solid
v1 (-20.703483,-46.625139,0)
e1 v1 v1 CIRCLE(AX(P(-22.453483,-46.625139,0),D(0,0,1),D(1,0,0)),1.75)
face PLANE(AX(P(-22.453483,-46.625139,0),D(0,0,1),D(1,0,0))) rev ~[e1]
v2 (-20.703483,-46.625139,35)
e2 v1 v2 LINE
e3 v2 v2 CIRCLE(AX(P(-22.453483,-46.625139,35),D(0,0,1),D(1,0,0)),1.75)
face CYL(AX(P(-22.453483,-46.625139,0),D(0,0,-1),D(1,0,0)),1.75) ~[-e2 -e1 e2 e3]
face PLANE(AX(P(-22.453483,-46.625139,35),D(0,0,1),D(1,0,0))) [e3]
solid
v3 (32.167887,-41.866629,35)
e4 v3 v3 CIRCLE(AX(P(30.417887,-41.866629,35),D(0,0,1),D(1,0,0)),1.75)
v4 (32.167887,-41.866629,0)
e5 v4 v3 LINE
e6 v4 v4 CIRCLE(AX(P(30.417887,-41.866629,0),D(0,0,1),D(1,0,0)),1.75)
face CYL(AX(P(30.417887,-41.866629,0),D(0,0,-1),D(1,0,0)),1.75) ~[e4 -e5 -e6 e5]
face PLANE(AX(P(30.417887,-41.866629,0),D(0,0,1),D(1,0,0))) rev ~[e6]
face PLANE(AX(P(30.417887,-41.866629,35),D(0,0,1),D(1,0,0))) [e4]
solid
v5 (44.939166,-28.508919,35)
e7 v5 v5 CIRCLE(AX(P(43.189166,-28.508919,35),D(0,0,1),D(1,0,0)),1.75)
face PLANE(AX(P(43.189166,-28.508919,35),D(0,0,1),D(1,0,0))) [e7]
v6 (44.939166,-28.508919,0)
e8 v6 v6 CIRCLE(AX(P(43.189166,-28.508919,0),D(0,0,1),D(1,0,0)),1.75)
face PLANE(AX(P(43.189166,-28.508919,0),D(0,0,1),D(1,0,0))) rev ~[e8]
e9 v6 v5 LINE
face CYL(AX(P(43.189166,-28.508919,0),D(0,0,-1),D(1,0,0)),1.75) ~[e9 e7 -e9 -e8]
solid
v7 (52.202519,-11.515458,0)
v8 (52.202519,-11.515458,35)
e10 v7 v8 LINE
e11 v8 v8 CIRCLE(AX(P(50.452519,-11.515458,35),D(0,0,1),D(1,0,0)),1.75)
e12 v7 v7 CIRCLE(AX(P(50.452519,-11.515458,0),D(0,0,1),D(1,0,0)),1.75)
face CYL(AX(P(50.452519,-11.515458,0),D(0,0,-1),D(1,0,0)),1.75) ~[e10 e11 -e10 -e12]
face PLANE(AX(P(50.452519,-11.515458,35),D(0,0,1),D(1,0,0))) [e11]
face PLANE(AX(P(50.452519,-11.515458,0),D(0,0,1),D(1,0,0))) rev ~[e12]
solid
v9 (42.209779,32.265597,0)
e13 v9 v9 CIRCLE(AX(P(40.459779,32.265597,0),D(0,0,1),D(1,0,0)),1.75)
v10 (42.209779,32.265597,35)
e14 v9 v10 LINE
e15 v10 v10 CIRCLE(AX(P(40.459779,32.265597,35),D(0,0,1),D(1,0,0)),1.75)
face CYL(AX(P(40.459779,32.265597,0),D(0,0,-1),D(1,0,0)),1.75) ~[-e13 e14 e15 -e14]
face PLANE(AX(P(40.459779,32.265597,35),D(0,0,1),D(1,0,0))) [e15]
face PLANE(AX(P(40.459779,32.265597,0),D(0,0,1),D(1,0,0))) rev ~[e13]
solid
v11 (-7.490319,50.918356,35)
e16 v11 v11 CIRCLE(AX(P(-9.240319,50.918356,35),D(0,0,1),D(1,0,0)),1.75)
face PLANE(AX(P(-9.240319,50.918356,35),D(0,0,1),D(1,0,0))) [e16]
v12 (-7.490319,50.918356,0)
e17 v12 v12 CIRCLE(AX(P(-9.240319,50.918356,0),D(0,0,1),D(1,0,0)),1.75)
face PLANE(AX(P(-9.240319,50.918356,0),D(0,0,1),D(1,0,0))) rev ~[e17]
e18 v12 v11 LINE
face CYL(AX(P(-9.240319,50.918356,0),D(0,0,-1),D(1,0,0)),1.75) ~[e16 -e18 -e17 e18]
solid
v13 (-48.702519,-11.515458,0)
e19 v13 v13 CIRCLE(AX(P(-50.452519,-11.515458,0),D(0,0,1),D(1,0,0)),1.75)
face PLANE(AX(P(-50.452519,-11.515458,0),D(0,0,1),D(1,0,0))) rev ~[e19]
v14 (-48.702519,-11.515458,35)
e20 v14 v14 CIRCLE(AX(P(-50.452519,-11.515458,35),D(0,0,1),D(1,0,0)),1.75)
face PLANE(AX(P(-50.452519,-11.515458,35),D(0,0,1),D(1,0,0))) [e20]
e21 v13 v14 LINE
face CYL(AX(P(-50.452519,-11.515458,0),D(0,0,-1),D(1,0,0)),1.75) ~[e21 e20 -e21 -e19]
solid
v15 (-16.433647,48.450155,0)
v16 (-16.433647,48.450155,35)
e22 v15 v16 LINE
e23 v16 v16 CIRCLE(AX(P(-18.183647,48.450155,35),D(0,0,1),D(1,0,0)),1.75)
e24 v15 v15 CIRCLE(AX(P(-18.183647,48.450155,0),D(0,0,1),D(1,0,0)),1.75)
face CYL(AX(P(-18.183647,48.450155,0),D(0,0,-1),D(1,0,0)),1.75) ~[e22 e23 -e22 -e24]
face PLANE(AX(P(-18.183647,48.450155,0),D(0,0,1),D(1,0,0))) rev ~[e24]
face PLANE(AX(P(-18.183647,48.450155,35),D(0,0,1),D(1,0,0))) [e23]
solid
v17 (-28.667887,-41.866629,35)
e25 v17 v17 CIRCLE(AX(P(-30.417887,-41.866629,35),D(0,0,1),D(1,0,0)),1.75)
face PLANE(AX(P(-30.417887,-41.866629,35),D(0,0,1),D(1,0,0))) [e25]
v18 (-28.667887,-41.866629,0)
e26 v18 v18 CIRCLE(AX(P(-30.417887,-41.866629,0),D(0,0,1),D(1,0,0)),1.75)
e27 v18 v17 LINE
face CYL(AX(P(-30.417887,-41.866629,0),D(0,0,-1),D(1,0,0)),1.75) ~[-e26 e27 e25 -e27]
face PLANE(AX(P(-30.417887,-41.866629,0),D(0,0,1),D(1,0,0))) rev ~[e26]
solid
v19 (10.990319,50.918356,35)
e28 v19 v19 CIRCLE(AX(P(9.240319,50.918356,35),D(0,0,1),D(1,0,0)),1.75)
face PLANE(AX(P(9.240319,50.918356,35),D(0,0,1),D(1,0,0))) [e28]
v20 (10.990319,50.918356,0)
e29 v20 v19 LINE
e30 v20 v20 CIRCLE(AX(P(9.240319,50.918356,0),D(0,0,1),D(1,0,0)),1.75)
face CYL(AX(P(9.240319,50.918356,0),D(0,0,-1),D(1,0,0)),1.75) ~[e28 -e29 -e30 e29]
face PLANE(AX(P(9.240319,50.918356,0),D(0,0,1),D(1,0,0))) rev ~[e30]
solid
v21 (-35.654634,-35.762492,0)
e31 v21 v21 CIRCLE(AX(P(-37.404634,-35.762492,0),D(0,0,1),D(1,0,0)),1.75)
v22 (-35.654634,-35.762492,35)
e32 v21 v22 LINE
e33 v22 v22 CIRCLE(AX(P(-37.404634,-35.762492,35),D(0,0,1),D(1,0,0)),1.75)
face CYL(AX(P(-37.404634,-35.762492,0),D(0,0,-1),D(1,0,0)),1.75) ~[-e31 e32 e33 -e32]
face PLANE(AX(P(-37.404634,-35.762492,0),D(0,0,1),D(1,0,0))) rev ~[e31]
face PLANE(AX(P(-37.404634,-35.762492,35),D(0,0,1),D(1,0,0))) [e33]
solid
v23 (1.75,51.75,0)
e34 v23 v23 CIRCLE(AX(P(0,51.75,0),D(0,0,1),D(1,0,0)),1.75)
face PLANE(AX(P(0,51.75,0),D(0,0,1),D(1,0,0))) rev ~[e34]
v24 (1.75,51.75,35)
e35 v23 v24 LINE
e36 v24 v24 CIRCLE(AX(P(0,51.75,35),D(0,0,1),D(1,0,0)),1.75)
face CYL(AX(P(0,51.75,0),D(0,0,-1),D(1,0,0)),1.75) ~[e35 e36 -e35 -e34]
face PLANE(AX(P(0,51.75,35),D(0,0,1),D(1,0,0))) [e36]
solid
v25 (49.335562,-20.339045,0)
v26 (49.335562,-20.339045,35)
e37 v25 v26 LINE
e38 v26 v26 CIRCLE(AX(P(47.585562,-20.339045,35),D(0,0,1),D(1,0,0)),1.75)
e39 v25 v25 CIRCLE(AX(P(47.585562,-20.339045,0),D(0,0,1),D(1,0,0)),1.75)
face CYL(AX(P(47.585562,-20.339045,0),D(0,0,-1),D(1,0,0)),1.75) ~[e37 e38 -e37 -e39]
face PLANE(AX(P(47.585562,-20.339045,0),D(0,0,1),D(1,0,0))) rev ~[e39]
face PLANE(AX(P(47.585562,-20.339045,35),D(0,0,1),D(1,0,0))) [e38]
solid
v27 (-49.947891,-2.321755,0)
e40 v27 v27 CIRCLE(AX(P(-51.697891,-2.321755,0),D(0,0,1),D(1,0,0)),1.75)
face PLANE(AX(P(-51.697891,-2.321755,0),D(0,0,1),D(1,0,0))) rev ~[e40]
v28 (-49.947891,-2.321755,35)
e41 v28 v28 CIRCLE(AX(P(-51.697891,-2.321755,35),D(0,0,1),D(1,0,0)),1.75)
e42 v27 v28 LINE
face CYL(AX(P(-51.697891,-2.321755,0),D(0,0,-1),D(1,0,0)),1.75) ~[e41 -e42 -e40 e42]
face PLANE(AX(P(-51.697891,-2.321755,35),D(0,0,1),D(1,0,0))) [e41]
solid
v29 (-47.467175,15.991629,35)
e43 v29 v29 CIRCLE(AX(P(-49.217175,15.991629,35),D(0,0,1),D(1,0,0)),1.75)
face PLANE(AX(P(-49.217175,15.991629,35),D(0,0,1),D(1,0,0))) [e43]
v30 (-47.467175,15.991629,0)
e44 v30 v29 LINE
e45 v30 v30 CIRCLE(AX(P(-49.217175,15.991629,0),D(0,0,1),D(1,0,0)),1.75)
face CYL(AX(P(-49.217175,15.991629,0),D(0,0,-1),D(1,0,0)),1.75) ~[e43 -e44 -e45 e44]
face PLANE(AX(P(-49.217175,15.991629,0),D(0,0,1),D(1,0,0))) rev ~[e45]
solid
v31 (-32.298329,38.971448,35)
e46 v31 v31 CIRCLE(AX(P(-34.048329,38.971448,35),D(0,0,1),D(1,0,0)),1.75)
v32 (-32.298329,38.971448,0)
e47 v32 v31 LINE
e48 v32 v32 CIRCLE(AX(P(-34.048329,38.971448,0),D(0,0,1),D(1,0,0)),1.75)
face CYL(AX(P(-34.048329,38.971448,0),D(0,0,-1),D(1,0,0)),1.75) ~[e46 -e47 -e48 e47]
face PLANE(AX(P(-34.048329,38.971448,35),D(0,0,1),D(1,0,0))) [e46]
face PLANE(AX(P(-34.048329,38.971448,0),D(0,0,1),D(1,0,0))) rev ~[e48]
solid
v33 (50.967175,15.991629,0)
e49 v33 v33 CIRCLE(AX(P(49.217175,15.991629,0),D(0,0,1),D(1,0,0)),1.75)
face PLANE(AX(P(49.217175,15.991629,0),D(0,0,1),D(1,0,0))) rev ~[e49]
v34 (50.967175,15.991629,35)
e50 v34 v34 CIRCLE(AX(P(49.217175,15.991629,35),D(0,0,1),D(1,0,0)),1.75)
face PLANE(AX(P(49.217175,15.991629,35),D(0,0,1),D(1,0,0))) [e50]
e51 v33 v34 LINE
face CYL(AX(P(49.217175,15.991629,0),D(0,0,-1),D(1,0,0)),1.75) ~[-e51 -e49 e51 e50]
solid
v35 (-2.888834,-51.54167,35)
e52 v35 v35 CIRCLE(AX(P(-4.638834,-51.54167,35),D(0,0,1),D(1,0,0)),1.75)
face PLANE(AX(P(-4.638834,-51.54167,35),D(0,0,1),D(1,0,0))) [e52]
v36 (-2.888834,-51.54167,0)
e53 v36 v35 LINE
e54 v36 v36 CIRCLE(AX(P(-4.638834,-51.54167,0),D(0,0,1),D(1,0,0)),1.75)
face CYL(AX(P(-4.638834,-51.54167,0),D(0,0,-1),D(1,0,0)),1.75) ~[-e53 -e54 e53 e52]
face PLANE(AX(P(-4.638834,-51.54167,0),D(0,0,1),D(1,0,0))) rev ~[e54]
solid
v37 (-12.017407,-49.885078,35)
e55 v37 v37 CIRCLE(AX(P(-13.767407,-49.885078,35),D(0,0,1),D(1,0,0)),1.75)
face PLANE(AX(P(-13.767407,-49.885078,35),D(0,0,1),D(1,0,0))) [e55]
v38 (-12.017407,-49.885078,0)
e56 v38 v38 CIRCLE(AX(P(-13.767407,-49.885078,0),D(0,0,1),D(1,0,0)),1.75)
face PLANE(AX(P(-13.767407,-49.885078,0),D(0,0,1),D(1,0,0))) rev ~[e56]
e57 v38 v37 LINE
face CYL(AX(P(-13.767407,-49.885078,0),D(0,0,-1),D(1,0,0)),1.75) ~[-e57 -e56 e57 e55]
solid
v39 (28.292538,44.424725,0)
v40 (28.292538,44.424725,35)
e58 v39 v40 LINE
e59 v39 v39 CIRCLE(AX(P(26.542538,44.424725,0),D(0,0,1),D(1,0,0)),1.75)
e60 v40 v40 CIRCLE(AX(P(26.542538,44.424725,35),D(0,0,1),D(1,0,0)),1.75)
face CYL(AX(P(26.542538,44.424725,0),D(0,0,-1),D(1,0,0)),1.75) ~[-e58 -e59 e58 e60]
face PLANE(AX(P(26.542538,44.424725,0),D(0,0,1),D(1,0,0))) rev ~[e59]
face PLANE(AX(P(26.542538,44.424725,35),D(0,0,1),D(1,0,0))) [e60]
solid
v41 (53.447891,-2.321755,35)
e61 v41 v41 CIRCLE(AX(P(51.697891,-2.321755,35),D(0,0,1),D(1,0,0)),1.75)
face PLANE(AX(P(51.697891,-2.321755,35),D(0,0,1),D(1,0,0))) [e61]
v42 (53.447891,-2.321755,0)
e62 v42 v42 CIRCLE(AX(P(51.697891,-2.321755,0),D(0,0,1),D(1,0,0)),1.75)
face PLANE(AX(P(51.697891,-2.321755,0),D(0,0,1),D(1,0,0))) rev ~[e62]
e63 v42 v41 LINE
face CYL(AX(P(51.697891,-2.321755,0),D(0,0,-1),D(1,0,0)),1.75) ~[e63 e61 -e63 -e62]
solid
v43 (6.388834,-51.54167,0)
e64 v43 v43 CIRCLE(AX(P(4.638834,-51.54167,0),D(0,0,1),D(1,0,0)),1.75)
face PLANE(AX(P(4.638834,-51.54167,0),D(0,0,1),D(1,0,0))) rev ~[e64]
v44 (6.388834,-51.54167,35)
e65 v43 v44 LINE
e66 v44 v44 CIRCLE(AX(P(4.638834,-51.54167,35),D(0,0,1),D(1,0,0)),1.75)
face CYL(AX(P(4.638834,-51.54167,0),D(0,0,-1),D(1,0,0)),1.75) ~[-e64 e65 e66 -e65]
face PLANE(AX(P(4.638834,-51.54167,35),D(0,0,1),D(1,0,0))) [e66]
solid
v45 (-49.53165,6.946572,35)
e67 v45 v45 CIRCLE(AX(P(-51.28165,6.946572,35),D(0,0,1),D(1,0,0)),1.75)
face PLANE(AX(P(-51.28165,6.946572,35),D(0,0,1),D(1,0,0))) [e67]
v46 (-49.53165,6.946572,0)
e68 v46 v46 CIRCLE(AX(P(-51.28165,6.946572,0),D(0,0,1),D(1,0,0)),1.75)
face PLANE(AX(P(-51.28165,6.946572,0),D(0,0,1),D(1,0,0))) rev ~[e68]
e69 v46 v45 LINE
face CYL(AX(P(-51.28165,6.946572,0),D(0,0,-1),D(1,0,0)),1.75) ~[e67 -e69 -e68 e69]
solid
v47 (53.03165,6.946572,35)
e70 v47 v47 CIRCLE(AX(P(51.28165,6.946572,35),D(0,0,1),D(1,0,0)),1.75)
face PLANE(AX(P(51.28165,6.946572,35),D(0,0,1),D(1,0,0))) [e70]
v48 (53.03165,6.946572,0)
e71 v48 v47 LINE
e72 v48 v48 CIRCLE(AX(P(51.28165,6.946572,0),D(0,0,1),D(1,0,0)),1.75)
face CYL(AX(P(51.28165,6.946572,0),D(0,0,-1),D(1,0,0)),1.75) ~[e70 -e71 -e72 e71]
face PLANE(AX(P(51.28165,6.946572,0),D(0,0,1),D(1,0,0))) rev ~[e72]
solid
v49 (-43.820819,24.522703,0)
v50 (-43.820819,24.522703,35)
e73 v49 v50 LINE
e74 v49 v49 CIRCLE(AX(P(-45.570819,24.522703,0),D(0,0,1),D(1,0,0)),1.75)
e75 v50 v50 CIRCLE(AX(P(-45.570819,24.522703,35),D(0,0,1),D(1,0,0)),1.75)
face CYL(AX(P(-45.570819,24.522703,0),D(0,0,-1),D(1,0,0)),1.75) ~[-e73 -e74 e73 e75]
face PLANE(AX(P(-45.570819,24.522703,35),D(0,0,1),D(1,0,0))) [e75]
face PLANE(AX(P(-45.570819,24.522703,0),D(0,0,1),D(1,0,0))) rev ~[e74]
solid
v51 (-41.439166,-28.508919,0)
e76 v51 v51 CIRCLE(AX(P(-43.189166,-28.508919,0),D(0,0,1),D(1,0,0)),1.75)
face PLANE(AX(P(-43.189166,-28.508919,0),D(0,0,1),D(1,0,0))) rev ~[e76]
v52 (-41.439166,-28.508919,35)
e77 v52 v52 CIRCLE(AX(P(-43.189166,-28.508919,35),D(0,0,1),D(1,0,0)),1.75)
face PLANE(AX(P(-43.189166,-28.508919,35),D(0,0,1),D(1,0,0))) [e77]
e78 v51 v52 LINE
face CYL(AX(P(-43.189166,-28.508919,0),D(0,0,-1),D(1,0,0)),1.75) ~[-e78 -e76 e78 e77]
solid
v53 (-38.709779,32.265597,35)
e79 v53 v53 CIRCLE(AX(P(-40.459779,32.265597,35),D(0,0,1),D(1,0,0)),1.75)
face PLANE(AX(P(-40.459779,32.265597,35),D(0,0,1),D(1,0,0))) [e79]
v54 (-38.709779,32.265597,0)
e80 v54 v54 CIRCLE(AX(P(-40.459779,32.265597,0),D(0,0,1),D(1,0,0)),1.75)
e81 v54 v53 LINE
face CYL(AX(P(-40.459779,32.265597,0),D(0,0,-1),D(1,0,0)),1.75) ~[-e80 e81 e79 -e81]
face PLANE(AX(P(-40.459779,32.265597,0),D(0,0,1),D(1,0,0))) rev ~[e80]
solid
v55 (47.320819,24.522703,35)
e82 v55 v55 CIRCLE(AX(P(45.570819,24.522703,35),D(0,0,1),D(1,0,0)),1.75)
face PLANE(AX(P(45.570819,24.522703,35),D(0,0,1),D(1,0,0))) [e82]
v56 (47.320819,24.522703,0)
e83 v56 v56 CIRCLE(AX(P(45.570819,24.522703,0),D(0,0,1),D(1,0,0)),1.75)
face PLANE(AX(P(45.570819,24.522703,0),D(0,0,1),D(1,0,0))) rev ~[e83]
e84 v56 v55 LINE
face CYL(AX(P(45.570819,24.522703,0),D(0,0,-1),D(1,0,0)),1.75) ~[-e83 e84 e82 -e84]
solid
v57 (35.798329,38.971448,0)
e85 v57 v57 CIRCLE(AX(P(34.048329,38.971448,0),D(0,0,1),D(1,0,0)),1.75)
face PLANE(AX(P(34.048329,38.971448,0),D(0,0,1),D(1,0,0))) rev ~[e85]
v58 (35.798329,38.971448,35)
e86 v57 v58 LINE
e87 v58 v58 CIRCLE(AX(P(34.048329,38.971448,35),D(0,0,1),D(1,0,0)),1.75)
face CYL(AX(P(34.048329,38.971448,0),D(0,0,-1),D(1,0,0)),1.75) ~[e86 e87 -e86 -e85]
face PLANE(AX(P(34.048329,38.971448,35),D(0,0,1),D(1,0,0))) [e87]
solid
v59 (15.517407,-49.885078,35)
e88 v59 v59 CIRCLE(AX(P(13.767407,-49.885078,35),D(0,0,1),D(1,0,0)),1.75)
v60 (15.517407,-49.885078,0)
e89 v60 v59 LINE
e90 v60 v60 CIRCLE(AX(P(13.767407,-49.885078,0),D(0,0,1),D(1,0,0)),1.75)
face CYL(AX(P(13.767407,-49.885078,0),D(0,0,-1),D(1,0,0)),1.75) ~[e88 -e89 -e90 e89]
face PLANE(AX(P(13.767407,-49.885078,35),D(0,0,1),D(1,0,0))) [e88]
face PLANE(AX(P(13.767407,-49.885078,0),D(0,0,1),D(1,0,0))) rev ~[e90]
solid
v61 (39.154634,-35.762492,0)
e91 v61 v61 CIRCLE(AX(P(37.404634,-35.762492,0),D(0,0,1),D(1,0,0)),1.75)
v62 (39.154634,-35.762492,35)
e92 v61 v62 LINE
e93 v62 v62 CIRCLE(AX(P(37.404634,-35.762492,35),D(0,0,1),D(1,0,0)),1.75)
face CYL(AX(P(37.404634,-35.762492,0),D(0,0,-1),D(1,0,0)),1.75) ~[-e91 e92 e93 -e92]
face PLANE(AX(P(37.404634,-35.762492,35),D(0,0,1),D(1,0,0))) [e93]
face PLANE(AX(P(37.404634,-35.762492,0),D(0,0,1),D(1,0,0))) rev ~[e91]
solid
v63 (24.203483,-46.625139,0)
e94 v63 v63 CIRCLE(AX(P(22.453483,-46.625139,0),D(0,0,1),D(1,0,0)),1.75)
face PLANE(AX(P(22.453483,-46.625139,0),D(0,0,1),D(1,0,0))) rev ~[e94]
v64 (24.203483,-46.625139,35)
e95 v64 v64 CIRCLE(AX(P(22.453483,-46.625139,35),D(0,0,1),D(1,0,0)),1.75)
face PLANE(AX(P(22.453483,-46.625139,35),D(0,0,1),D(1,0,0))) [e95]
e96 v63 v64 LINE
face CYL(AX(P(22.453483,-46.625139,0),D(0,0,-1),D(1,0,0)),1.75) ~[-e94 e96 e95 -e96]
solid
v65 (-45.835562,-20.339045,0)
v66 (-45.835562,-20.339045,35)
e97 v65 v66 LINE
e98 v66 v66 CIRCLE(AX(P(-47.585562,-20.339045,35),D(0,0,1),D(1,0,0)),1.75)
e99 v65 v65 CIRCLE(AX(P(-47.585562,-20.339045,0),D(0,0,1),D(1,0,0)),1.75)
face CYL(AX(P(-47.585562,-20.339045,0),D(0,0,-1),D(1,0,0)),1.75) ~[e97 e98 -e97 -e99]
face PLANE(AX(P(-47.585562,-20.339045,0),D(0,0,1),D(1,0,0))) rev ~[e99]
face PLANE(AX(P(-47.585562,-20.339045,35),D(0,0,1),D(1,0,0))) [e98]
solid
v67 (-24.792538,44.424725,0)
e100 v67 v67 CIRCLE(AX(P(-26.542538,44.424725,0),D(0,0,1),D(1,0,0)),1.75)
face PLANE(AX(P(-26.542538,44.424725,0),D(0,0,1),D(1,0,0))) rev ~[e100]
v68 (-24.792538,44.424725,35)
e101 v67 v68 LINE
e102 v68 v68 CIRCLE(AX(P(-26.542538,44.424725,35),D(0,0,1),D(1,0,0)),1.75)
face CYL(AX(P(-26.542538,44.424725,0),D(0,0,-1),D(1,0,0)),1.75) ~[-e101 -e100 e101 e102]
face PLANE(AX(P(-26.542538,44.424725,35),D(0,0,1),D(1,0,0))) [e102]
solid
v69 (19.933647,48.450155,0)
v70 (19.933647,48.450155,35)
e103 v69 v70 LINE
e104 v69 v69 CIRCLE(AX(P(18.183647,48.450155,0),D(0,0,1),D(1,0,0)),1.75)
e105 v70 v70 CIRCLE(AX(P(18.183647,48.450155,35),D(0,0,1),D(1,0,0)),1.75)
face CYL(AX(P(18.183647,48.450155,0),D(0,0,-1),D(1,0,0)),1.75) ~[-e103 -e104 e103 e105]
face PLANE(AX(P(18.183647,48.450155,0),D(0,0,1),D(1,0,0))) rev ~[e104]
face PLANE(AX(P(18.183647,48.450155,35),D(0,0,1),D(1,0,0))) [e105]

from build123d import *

# Parameters (mm, degrees)
SKETCH_1_R         = 1.75
EXTRUDE_1_DEPTH    = 35
EXTRUDE_1_2_DEPTH  = 35
EXTRUDE_1_3_DEPTH  = 35
EXTRUDE_1_4_DEPTH  = 35
EXTRUDE_1_5_DEPTH  = 35
EXTRUDE_1_6_DEPTH  = 35
EXTRUDE_1_7_DEPTH  = 35
EXTRUDE_1_8_DEPTH  = 35
EXTRUDE_1_9_DEPTH  = 35
EXTRUDE_1_10_DEPTH = 35
EXTRUDE_1_11_DEPTH = 35
EXTRUDE_1_12_DEPTH = 35
EXTRUDE_1_13_DEPTH = 35
EXTRUDE_1_14_DEPTH = 35
EXTRUDE_1_15_DEPTH = 35
EXTRUDE_1_16_DEPTH = 35
EXTRUDE_1_17_DEPTH = 35
EXTRUDE_1_18_DEPTH = 35
EXTRUDE_1_19_DEPTH = 35
EXTRUDE_1_20_DEPTH = 35
EXTRUDE_1_21_DEPTH = 35
EXTRUDE_1_22_DEPTH = 35
EXTRUDE_1_23_DEPTH = 35
EXTRUDE_1_24_DEPTH = 35
EXTRUDE_1_25_DEPTH = 35
EXTRUDE_1_26_DEPTH = 35
EXTRUDE_1_27_DEPTH = 35
EXTRUDE_1_28_DEPTH = 35
EXTRUDE_1_29_DEPTH = 35
EXTRUDE_1_30_DEPTH = 35
EXTRUDE_1_31_DEPTH = 35
EXTRUDE_1_32_DEPTH = 35
EXTRUDE_1_33_DEPTH = 35
EXTRUDE_1_34_DEPTH = 35
EXTRUDE_1_35_DEPTH = 35


with BuildPart() as part:
    # Эскиз1 → Бобышка-Вытянуть1 (new body)
    with BuildSketch(Plane.XY):
        with Locations((0, 51.75)):
            Circle(SKETCH_1_R)
    extrude(amount=EXTRUDE_1_DEPTH)


with BuildPart() as body_2:
    # Эскиз1 → Extrude 1 2 (new body)
    with BuildSketch(Plane.XY):
        with Locations((9.240319306, 50.91835621)):
            Circle(SKETCH_1_R)
    extrude(amount=EXTRUDE_1_2_DEPTH)


with BuildPart() as body_3:
    # Эскиз1 → Extrude 1 3 (new body)
    with BuildSketch(Plane.XY):
        with Locations((18.183647146, 48.450154556)):
            Circle(SKETCH_1_R)
    extrude(amount=EXTRUDE_1_3_DEPTH)


with BuildPart() as body_4:
    # Эскиз1 → Extrude 1 4 (new body)
    with BuildSketch(Plane.XY):
        with Locations((26.542537606, 44.424725069)):
            Circle(SKETCH_1_R)
    extrude(amount=EXTRUDE_1_4_DEPTH)


with BuildPart() as body_5:
    # Эскиз1 → Extrude 1 5 (new body)
    with BuildSketch(Plane.XY):
        with Locations((34.048329067, 38.971448366)):
            Circle(SKETCH_1_R)
    extrude(amount=EXTRUDE_1_5_DEPTH)


with BuildPart() as body_6:
    # Эскиз1 → Extrude 1 6 (new body)
    with BuildSketch(Plane.XY):
        with Locations((40.459779218, 32.265597246)):
            Circle(SKETCH_1_R)
    extrude(amount=EXTRUDE_1_6_DEPTH)


with BuildPart() as body_7:
    # Эскиз1 → Extrude 1 7 (new body)
    with BuildSketch(Plane.XY):
        with Locations((45.570818774, 24.522703283)):
            Circle(SKETCH_1_R)
    extrude(amount=EXTRUDE_1_7_DEPTH)


with BuildPart() as body_8:
    # Эскиз1 → Extrude 1 8 (new body)
    with BuildSketch(Plane.XY):
        with Locations((49.217174718, 15.991629459)):
            Circle(SKETCH_1_R)
    extrude(amount=EXTRUDE_1_8_DEPTH)


with BuildPart() as body_9:
    # Эскиз1 → Extrude 1 9 (new body)
    with BuildSketch(Plane.XY):
        with Locations((51.281650171, 6.946571506)):
            Circle(SKETCH_1_R)
    extrude(amount=EXTRUDE_1_9_DEPTH)


with BuildPart() as body_10:
    # Эскиз1 → Extrude 1 10 (new body)
    with BuildSketch(Plane.XY):
        with Locations((51.697891194, -2.321754971)):
            Circle(SKETCH_1_R)
    extrude(amount=EXTRUDE_1_10_DEPTH)


with BuildPart() as body_11:
    # Эскиз1 → Extrude 1 11 (new body)
    with BuildSketch(Plane.XY):
        with Locations((50.452519455, -11.515458332)):
            Circle(SKETCH_1_R)
    extrude(amount=EXTRUDE_1_11_DEPTH)


with BuildPart() as body_12:
    # Эскиз1 → Extrude 1 12 (new body)
    with BuildSketch(Plane.XY):
        with Locations((47.58556223, -20.339045388)):
            Circle(SKETCH_1_R)
    extrude(amount=EXTRUDE_1_12_DEPTH)


with BuildPart() as body_13:
    # Эскиз1 → Extrude 1 13 (new body)
    with BuildSketch(Plane.XY):
        with Locations((43.18916588, -28.50891879)):
            Circle(SKETCH_1_R)
    extrude(amount=EXTRUDE_1_13_DEPTH)


with BuildPart() as body_14:
    # Эскиз1 → Extrude 1 14 (new body)
    with BuildSketch(Plane.XY):
        with Locations((37.404634203, -35.762492085)):
            Circle(SKETCH_1_R)
    extrude(amount=EXTRUDE_1_14_DEPTH)


with BuildPart() as body_15:
    # Эскиз1 → Extrude 1 15 (new body)
    with BuildSketch(Plane.XY):
        with Locations((30.417886806, -41.866629459)):
            Circle(SKETCH_1_R)
    extrude(amount=EXTRUDE_1_15_DEPTH)


with BuildPart() as body_16:
    # Эскиз1 → Extrude 1 16 (new body)
    with BuildSketch(Plane.XY):
        with Locations((22.453483499, -46.625138914)):
            Circle(SKETCH_1_R)
    extrude(amount=EXTRUDE_1_16_DEPTH)


with BuildPart() as body_17:
    # Эскиз1 → Extrude 1 17 (new body)
    with BuildSketch(Plane.XY):
        with Locations((13.767406758, -49.885078041)):
            Circle(SKETCH_1_R)
    extrude(amount=EXTRUDE_1_17_DEPTH)


with BuildPart() as body_18:
    # Эскиз1 → Extrude 1 18 (new body)
    with BuildSketch(Plane.XY):
        with Locations((4.638834236, -51.541669714)):
            Circle(SKETCH_1_R)
    extrude(amount=EXTRUDE_1_18_DEPTH)


with BuildPart() as body_19:
    # Эскиз1 → Extrude 1 19 (new body)
    with BuildSketch(Plane.XY):
        with Locations((-4.638834236, -51.541669714)):
            Circle(SKETCH_1_R)
    extrude(amount=EXTRUDE_1_19_DEPTH)


with BuildPart() as body_20:
    # Эскиз1 → Extrude 1 20 (new body)
    with BuildSketch(Plane.XY):
        with Locations((-13.767406758, -49.885078041)):
            Circle(SKETCH_1_R)
    extrude(amount=EXTRUDE_1_20_DEPTH)


with BuildPart() as body_21:
    # Эскиз1 → Extrude 1 21 (new body)
    with BuildSketch(Plane.XY):
        with Locations((-22.453483499, -46.625138914)):
            Circle(SKETCH_1_R)
    extrude(amount=EXTRUDE_1_21_DEPTH)


with BuildPart() as body_22:
    # Эскиз1 → Extrude 1 22 (new body)
    with BuildSketch(Plane.XY):
        with Locations((-30.417886806, -41.866629459)):
            Circle(SKETCH_1_R)
    extrude(amount=EXTRUDE_1_22_DEPTH)


with BuildPart() as body_23:
    # Эскиз1 → Extrude 1 23 (new body)
    with BuildSketch(Plane.XY):
        with Locations((-37.404634203, -35.762492085)):
            Circle(SKETCH_1_R)
    extrude(amount=EXTRUDE_1_23_DEPTH)


with BuildPart() as body_24:
    # Эскиз1 → Extrude 1 24 (new body)
    with BuildSketch(Plane.XY):
        with Locations((-43.18916588, -28.50891879)):
            Circle(SKETCH_1_R)
    extrude(amount=EXTRUDE_1_24_DEPTH)


with BuildPart() as body_25:
    # Эскиз1 → Extrude 1 25 (new body)
    with BuildSketch(Plane.XY):
        with Locations((-47.58556223, -20.339045388)):
            Circle(SKETCH_1_R)
    extrude(amount=EXTRUDE_1_25_DEPTH)


with BuildPart() as body_26:
    # Эскиз1 → Extrude 1 26 (new body)
    with BuildSketch(Plane.XY):
        with Locations((-50.452519455, -11.515458332)):
            Circle(SKETCH_1_R)
    extrude(amount=EXTRUDE_1_26_DEPTH)


with BuildPart() as body_27:
    # Эскиз1 → Extrude 1 27 (new body)
    with BuildSketch(Plane.XY):
        with Locations((-51.697891194, -2.321754971)):
            Circle(SKETCH_1_R)
    extrude(amount=EXTRUDE_1_27_DEPTH)


with BuildPart() as body_28:
    # Эскиз1 → Extrude 1 28 (new body)
    with BuildSketch(Plane.XY):
        with Locations((-51.281650171, 6.946571506)):
            Circle(SKETCH_1_R)
    extrude(amount=EXTRUDE_1_28_DEPTH)


with BuildPart() as body_29:
    # Эскиз1 → Extrude 1 29 (new body)
    with BuildSketch(Plane.XY):
        with Locations((-49.217174718, 15.991629459)):
            Circle(SKETCH_1_R)
    extrude(amount=EXTRUDE_1_29_DEPTH)


with BuildPart() as body_30:
    # Эскиз1 → Extrude 1 30 (new body)
    with BuildSketch(Plane.XY):
        with Locations((-45.570818774, 24.522703283)):
            Circle(SKETCH_1_R)
    extrude(amount=EXTRUDE_1_30_DEPTH)


with BuildPart() as body_31:
    # Эскиз1 → Extrude 1 31 (new body)
    with BuildSketch(Plane.XY):
        with Locations((-40.459779218, 32.265597246)):
            Circle(SKETCH_1_R)
    extrude(amount=EXTRUDE_1_31_DEPTH)


with BuildPart() as body_32:
    # Эскиз1 → Extrude 1 32 (new body)
    with BuildSketch(Plane.XY):
        with Locations((-34.048329067, 38.971448366)):
            Circle(SKETCH_1_R)
    extrude(amount=EXTRUDE_1_32_DEPTH)


with BuildPart() as body_33:
    # Эскиз1 → Extrude 1 33 (new body)
    with BuildSketch(Plane.XY):
        with Locations((-26.542537606, 44.424725069)):
            Circle(SKETCH_1_R)
    extrude(amount=EXTRUDE_1_33_DEPTH)


with BuildPart() as body_34:
    # Эскиз1 → Extrude 1 34 (new body)
    with BuildSketch(Plane.XY):
        with Locations((-18.183647146, 48.450154556)):
            Circle(SKETCH_1_R)
    extrude(amount=EXTRUDE_1_34_DEPTH)


with BuildPart() as body_35:
    # Эскиз1 → Extrude 1 35 (new body)
    with BuildSketch(Plane.XY):
        with Locations((-9.240319306, 50.91835621)):
            Circle(SKETCH_1_R)
    extrude(amount=EXTRUDE_1_35_DEPTH)


solid = Compound([part.part, body_2.part, body_3.part, body_4.part, body_5.part, body_6.part, body_7.part, body_8.part, body_9.part, body_10.part, body_11.part, body_12.part, body_13.part, body_14.part, body_15.part, body_16.part, body_17.part, body_18.part, body_19.part, body_20.part, body_21.part, body_22.part, body_23.part, body_24.part, body_25.part, body_26.part, body_27.part, body_28.part, body_29.part, body_30.part, body_31.part, body_32.part, body_33.part, body_34.part, body_35.part])
